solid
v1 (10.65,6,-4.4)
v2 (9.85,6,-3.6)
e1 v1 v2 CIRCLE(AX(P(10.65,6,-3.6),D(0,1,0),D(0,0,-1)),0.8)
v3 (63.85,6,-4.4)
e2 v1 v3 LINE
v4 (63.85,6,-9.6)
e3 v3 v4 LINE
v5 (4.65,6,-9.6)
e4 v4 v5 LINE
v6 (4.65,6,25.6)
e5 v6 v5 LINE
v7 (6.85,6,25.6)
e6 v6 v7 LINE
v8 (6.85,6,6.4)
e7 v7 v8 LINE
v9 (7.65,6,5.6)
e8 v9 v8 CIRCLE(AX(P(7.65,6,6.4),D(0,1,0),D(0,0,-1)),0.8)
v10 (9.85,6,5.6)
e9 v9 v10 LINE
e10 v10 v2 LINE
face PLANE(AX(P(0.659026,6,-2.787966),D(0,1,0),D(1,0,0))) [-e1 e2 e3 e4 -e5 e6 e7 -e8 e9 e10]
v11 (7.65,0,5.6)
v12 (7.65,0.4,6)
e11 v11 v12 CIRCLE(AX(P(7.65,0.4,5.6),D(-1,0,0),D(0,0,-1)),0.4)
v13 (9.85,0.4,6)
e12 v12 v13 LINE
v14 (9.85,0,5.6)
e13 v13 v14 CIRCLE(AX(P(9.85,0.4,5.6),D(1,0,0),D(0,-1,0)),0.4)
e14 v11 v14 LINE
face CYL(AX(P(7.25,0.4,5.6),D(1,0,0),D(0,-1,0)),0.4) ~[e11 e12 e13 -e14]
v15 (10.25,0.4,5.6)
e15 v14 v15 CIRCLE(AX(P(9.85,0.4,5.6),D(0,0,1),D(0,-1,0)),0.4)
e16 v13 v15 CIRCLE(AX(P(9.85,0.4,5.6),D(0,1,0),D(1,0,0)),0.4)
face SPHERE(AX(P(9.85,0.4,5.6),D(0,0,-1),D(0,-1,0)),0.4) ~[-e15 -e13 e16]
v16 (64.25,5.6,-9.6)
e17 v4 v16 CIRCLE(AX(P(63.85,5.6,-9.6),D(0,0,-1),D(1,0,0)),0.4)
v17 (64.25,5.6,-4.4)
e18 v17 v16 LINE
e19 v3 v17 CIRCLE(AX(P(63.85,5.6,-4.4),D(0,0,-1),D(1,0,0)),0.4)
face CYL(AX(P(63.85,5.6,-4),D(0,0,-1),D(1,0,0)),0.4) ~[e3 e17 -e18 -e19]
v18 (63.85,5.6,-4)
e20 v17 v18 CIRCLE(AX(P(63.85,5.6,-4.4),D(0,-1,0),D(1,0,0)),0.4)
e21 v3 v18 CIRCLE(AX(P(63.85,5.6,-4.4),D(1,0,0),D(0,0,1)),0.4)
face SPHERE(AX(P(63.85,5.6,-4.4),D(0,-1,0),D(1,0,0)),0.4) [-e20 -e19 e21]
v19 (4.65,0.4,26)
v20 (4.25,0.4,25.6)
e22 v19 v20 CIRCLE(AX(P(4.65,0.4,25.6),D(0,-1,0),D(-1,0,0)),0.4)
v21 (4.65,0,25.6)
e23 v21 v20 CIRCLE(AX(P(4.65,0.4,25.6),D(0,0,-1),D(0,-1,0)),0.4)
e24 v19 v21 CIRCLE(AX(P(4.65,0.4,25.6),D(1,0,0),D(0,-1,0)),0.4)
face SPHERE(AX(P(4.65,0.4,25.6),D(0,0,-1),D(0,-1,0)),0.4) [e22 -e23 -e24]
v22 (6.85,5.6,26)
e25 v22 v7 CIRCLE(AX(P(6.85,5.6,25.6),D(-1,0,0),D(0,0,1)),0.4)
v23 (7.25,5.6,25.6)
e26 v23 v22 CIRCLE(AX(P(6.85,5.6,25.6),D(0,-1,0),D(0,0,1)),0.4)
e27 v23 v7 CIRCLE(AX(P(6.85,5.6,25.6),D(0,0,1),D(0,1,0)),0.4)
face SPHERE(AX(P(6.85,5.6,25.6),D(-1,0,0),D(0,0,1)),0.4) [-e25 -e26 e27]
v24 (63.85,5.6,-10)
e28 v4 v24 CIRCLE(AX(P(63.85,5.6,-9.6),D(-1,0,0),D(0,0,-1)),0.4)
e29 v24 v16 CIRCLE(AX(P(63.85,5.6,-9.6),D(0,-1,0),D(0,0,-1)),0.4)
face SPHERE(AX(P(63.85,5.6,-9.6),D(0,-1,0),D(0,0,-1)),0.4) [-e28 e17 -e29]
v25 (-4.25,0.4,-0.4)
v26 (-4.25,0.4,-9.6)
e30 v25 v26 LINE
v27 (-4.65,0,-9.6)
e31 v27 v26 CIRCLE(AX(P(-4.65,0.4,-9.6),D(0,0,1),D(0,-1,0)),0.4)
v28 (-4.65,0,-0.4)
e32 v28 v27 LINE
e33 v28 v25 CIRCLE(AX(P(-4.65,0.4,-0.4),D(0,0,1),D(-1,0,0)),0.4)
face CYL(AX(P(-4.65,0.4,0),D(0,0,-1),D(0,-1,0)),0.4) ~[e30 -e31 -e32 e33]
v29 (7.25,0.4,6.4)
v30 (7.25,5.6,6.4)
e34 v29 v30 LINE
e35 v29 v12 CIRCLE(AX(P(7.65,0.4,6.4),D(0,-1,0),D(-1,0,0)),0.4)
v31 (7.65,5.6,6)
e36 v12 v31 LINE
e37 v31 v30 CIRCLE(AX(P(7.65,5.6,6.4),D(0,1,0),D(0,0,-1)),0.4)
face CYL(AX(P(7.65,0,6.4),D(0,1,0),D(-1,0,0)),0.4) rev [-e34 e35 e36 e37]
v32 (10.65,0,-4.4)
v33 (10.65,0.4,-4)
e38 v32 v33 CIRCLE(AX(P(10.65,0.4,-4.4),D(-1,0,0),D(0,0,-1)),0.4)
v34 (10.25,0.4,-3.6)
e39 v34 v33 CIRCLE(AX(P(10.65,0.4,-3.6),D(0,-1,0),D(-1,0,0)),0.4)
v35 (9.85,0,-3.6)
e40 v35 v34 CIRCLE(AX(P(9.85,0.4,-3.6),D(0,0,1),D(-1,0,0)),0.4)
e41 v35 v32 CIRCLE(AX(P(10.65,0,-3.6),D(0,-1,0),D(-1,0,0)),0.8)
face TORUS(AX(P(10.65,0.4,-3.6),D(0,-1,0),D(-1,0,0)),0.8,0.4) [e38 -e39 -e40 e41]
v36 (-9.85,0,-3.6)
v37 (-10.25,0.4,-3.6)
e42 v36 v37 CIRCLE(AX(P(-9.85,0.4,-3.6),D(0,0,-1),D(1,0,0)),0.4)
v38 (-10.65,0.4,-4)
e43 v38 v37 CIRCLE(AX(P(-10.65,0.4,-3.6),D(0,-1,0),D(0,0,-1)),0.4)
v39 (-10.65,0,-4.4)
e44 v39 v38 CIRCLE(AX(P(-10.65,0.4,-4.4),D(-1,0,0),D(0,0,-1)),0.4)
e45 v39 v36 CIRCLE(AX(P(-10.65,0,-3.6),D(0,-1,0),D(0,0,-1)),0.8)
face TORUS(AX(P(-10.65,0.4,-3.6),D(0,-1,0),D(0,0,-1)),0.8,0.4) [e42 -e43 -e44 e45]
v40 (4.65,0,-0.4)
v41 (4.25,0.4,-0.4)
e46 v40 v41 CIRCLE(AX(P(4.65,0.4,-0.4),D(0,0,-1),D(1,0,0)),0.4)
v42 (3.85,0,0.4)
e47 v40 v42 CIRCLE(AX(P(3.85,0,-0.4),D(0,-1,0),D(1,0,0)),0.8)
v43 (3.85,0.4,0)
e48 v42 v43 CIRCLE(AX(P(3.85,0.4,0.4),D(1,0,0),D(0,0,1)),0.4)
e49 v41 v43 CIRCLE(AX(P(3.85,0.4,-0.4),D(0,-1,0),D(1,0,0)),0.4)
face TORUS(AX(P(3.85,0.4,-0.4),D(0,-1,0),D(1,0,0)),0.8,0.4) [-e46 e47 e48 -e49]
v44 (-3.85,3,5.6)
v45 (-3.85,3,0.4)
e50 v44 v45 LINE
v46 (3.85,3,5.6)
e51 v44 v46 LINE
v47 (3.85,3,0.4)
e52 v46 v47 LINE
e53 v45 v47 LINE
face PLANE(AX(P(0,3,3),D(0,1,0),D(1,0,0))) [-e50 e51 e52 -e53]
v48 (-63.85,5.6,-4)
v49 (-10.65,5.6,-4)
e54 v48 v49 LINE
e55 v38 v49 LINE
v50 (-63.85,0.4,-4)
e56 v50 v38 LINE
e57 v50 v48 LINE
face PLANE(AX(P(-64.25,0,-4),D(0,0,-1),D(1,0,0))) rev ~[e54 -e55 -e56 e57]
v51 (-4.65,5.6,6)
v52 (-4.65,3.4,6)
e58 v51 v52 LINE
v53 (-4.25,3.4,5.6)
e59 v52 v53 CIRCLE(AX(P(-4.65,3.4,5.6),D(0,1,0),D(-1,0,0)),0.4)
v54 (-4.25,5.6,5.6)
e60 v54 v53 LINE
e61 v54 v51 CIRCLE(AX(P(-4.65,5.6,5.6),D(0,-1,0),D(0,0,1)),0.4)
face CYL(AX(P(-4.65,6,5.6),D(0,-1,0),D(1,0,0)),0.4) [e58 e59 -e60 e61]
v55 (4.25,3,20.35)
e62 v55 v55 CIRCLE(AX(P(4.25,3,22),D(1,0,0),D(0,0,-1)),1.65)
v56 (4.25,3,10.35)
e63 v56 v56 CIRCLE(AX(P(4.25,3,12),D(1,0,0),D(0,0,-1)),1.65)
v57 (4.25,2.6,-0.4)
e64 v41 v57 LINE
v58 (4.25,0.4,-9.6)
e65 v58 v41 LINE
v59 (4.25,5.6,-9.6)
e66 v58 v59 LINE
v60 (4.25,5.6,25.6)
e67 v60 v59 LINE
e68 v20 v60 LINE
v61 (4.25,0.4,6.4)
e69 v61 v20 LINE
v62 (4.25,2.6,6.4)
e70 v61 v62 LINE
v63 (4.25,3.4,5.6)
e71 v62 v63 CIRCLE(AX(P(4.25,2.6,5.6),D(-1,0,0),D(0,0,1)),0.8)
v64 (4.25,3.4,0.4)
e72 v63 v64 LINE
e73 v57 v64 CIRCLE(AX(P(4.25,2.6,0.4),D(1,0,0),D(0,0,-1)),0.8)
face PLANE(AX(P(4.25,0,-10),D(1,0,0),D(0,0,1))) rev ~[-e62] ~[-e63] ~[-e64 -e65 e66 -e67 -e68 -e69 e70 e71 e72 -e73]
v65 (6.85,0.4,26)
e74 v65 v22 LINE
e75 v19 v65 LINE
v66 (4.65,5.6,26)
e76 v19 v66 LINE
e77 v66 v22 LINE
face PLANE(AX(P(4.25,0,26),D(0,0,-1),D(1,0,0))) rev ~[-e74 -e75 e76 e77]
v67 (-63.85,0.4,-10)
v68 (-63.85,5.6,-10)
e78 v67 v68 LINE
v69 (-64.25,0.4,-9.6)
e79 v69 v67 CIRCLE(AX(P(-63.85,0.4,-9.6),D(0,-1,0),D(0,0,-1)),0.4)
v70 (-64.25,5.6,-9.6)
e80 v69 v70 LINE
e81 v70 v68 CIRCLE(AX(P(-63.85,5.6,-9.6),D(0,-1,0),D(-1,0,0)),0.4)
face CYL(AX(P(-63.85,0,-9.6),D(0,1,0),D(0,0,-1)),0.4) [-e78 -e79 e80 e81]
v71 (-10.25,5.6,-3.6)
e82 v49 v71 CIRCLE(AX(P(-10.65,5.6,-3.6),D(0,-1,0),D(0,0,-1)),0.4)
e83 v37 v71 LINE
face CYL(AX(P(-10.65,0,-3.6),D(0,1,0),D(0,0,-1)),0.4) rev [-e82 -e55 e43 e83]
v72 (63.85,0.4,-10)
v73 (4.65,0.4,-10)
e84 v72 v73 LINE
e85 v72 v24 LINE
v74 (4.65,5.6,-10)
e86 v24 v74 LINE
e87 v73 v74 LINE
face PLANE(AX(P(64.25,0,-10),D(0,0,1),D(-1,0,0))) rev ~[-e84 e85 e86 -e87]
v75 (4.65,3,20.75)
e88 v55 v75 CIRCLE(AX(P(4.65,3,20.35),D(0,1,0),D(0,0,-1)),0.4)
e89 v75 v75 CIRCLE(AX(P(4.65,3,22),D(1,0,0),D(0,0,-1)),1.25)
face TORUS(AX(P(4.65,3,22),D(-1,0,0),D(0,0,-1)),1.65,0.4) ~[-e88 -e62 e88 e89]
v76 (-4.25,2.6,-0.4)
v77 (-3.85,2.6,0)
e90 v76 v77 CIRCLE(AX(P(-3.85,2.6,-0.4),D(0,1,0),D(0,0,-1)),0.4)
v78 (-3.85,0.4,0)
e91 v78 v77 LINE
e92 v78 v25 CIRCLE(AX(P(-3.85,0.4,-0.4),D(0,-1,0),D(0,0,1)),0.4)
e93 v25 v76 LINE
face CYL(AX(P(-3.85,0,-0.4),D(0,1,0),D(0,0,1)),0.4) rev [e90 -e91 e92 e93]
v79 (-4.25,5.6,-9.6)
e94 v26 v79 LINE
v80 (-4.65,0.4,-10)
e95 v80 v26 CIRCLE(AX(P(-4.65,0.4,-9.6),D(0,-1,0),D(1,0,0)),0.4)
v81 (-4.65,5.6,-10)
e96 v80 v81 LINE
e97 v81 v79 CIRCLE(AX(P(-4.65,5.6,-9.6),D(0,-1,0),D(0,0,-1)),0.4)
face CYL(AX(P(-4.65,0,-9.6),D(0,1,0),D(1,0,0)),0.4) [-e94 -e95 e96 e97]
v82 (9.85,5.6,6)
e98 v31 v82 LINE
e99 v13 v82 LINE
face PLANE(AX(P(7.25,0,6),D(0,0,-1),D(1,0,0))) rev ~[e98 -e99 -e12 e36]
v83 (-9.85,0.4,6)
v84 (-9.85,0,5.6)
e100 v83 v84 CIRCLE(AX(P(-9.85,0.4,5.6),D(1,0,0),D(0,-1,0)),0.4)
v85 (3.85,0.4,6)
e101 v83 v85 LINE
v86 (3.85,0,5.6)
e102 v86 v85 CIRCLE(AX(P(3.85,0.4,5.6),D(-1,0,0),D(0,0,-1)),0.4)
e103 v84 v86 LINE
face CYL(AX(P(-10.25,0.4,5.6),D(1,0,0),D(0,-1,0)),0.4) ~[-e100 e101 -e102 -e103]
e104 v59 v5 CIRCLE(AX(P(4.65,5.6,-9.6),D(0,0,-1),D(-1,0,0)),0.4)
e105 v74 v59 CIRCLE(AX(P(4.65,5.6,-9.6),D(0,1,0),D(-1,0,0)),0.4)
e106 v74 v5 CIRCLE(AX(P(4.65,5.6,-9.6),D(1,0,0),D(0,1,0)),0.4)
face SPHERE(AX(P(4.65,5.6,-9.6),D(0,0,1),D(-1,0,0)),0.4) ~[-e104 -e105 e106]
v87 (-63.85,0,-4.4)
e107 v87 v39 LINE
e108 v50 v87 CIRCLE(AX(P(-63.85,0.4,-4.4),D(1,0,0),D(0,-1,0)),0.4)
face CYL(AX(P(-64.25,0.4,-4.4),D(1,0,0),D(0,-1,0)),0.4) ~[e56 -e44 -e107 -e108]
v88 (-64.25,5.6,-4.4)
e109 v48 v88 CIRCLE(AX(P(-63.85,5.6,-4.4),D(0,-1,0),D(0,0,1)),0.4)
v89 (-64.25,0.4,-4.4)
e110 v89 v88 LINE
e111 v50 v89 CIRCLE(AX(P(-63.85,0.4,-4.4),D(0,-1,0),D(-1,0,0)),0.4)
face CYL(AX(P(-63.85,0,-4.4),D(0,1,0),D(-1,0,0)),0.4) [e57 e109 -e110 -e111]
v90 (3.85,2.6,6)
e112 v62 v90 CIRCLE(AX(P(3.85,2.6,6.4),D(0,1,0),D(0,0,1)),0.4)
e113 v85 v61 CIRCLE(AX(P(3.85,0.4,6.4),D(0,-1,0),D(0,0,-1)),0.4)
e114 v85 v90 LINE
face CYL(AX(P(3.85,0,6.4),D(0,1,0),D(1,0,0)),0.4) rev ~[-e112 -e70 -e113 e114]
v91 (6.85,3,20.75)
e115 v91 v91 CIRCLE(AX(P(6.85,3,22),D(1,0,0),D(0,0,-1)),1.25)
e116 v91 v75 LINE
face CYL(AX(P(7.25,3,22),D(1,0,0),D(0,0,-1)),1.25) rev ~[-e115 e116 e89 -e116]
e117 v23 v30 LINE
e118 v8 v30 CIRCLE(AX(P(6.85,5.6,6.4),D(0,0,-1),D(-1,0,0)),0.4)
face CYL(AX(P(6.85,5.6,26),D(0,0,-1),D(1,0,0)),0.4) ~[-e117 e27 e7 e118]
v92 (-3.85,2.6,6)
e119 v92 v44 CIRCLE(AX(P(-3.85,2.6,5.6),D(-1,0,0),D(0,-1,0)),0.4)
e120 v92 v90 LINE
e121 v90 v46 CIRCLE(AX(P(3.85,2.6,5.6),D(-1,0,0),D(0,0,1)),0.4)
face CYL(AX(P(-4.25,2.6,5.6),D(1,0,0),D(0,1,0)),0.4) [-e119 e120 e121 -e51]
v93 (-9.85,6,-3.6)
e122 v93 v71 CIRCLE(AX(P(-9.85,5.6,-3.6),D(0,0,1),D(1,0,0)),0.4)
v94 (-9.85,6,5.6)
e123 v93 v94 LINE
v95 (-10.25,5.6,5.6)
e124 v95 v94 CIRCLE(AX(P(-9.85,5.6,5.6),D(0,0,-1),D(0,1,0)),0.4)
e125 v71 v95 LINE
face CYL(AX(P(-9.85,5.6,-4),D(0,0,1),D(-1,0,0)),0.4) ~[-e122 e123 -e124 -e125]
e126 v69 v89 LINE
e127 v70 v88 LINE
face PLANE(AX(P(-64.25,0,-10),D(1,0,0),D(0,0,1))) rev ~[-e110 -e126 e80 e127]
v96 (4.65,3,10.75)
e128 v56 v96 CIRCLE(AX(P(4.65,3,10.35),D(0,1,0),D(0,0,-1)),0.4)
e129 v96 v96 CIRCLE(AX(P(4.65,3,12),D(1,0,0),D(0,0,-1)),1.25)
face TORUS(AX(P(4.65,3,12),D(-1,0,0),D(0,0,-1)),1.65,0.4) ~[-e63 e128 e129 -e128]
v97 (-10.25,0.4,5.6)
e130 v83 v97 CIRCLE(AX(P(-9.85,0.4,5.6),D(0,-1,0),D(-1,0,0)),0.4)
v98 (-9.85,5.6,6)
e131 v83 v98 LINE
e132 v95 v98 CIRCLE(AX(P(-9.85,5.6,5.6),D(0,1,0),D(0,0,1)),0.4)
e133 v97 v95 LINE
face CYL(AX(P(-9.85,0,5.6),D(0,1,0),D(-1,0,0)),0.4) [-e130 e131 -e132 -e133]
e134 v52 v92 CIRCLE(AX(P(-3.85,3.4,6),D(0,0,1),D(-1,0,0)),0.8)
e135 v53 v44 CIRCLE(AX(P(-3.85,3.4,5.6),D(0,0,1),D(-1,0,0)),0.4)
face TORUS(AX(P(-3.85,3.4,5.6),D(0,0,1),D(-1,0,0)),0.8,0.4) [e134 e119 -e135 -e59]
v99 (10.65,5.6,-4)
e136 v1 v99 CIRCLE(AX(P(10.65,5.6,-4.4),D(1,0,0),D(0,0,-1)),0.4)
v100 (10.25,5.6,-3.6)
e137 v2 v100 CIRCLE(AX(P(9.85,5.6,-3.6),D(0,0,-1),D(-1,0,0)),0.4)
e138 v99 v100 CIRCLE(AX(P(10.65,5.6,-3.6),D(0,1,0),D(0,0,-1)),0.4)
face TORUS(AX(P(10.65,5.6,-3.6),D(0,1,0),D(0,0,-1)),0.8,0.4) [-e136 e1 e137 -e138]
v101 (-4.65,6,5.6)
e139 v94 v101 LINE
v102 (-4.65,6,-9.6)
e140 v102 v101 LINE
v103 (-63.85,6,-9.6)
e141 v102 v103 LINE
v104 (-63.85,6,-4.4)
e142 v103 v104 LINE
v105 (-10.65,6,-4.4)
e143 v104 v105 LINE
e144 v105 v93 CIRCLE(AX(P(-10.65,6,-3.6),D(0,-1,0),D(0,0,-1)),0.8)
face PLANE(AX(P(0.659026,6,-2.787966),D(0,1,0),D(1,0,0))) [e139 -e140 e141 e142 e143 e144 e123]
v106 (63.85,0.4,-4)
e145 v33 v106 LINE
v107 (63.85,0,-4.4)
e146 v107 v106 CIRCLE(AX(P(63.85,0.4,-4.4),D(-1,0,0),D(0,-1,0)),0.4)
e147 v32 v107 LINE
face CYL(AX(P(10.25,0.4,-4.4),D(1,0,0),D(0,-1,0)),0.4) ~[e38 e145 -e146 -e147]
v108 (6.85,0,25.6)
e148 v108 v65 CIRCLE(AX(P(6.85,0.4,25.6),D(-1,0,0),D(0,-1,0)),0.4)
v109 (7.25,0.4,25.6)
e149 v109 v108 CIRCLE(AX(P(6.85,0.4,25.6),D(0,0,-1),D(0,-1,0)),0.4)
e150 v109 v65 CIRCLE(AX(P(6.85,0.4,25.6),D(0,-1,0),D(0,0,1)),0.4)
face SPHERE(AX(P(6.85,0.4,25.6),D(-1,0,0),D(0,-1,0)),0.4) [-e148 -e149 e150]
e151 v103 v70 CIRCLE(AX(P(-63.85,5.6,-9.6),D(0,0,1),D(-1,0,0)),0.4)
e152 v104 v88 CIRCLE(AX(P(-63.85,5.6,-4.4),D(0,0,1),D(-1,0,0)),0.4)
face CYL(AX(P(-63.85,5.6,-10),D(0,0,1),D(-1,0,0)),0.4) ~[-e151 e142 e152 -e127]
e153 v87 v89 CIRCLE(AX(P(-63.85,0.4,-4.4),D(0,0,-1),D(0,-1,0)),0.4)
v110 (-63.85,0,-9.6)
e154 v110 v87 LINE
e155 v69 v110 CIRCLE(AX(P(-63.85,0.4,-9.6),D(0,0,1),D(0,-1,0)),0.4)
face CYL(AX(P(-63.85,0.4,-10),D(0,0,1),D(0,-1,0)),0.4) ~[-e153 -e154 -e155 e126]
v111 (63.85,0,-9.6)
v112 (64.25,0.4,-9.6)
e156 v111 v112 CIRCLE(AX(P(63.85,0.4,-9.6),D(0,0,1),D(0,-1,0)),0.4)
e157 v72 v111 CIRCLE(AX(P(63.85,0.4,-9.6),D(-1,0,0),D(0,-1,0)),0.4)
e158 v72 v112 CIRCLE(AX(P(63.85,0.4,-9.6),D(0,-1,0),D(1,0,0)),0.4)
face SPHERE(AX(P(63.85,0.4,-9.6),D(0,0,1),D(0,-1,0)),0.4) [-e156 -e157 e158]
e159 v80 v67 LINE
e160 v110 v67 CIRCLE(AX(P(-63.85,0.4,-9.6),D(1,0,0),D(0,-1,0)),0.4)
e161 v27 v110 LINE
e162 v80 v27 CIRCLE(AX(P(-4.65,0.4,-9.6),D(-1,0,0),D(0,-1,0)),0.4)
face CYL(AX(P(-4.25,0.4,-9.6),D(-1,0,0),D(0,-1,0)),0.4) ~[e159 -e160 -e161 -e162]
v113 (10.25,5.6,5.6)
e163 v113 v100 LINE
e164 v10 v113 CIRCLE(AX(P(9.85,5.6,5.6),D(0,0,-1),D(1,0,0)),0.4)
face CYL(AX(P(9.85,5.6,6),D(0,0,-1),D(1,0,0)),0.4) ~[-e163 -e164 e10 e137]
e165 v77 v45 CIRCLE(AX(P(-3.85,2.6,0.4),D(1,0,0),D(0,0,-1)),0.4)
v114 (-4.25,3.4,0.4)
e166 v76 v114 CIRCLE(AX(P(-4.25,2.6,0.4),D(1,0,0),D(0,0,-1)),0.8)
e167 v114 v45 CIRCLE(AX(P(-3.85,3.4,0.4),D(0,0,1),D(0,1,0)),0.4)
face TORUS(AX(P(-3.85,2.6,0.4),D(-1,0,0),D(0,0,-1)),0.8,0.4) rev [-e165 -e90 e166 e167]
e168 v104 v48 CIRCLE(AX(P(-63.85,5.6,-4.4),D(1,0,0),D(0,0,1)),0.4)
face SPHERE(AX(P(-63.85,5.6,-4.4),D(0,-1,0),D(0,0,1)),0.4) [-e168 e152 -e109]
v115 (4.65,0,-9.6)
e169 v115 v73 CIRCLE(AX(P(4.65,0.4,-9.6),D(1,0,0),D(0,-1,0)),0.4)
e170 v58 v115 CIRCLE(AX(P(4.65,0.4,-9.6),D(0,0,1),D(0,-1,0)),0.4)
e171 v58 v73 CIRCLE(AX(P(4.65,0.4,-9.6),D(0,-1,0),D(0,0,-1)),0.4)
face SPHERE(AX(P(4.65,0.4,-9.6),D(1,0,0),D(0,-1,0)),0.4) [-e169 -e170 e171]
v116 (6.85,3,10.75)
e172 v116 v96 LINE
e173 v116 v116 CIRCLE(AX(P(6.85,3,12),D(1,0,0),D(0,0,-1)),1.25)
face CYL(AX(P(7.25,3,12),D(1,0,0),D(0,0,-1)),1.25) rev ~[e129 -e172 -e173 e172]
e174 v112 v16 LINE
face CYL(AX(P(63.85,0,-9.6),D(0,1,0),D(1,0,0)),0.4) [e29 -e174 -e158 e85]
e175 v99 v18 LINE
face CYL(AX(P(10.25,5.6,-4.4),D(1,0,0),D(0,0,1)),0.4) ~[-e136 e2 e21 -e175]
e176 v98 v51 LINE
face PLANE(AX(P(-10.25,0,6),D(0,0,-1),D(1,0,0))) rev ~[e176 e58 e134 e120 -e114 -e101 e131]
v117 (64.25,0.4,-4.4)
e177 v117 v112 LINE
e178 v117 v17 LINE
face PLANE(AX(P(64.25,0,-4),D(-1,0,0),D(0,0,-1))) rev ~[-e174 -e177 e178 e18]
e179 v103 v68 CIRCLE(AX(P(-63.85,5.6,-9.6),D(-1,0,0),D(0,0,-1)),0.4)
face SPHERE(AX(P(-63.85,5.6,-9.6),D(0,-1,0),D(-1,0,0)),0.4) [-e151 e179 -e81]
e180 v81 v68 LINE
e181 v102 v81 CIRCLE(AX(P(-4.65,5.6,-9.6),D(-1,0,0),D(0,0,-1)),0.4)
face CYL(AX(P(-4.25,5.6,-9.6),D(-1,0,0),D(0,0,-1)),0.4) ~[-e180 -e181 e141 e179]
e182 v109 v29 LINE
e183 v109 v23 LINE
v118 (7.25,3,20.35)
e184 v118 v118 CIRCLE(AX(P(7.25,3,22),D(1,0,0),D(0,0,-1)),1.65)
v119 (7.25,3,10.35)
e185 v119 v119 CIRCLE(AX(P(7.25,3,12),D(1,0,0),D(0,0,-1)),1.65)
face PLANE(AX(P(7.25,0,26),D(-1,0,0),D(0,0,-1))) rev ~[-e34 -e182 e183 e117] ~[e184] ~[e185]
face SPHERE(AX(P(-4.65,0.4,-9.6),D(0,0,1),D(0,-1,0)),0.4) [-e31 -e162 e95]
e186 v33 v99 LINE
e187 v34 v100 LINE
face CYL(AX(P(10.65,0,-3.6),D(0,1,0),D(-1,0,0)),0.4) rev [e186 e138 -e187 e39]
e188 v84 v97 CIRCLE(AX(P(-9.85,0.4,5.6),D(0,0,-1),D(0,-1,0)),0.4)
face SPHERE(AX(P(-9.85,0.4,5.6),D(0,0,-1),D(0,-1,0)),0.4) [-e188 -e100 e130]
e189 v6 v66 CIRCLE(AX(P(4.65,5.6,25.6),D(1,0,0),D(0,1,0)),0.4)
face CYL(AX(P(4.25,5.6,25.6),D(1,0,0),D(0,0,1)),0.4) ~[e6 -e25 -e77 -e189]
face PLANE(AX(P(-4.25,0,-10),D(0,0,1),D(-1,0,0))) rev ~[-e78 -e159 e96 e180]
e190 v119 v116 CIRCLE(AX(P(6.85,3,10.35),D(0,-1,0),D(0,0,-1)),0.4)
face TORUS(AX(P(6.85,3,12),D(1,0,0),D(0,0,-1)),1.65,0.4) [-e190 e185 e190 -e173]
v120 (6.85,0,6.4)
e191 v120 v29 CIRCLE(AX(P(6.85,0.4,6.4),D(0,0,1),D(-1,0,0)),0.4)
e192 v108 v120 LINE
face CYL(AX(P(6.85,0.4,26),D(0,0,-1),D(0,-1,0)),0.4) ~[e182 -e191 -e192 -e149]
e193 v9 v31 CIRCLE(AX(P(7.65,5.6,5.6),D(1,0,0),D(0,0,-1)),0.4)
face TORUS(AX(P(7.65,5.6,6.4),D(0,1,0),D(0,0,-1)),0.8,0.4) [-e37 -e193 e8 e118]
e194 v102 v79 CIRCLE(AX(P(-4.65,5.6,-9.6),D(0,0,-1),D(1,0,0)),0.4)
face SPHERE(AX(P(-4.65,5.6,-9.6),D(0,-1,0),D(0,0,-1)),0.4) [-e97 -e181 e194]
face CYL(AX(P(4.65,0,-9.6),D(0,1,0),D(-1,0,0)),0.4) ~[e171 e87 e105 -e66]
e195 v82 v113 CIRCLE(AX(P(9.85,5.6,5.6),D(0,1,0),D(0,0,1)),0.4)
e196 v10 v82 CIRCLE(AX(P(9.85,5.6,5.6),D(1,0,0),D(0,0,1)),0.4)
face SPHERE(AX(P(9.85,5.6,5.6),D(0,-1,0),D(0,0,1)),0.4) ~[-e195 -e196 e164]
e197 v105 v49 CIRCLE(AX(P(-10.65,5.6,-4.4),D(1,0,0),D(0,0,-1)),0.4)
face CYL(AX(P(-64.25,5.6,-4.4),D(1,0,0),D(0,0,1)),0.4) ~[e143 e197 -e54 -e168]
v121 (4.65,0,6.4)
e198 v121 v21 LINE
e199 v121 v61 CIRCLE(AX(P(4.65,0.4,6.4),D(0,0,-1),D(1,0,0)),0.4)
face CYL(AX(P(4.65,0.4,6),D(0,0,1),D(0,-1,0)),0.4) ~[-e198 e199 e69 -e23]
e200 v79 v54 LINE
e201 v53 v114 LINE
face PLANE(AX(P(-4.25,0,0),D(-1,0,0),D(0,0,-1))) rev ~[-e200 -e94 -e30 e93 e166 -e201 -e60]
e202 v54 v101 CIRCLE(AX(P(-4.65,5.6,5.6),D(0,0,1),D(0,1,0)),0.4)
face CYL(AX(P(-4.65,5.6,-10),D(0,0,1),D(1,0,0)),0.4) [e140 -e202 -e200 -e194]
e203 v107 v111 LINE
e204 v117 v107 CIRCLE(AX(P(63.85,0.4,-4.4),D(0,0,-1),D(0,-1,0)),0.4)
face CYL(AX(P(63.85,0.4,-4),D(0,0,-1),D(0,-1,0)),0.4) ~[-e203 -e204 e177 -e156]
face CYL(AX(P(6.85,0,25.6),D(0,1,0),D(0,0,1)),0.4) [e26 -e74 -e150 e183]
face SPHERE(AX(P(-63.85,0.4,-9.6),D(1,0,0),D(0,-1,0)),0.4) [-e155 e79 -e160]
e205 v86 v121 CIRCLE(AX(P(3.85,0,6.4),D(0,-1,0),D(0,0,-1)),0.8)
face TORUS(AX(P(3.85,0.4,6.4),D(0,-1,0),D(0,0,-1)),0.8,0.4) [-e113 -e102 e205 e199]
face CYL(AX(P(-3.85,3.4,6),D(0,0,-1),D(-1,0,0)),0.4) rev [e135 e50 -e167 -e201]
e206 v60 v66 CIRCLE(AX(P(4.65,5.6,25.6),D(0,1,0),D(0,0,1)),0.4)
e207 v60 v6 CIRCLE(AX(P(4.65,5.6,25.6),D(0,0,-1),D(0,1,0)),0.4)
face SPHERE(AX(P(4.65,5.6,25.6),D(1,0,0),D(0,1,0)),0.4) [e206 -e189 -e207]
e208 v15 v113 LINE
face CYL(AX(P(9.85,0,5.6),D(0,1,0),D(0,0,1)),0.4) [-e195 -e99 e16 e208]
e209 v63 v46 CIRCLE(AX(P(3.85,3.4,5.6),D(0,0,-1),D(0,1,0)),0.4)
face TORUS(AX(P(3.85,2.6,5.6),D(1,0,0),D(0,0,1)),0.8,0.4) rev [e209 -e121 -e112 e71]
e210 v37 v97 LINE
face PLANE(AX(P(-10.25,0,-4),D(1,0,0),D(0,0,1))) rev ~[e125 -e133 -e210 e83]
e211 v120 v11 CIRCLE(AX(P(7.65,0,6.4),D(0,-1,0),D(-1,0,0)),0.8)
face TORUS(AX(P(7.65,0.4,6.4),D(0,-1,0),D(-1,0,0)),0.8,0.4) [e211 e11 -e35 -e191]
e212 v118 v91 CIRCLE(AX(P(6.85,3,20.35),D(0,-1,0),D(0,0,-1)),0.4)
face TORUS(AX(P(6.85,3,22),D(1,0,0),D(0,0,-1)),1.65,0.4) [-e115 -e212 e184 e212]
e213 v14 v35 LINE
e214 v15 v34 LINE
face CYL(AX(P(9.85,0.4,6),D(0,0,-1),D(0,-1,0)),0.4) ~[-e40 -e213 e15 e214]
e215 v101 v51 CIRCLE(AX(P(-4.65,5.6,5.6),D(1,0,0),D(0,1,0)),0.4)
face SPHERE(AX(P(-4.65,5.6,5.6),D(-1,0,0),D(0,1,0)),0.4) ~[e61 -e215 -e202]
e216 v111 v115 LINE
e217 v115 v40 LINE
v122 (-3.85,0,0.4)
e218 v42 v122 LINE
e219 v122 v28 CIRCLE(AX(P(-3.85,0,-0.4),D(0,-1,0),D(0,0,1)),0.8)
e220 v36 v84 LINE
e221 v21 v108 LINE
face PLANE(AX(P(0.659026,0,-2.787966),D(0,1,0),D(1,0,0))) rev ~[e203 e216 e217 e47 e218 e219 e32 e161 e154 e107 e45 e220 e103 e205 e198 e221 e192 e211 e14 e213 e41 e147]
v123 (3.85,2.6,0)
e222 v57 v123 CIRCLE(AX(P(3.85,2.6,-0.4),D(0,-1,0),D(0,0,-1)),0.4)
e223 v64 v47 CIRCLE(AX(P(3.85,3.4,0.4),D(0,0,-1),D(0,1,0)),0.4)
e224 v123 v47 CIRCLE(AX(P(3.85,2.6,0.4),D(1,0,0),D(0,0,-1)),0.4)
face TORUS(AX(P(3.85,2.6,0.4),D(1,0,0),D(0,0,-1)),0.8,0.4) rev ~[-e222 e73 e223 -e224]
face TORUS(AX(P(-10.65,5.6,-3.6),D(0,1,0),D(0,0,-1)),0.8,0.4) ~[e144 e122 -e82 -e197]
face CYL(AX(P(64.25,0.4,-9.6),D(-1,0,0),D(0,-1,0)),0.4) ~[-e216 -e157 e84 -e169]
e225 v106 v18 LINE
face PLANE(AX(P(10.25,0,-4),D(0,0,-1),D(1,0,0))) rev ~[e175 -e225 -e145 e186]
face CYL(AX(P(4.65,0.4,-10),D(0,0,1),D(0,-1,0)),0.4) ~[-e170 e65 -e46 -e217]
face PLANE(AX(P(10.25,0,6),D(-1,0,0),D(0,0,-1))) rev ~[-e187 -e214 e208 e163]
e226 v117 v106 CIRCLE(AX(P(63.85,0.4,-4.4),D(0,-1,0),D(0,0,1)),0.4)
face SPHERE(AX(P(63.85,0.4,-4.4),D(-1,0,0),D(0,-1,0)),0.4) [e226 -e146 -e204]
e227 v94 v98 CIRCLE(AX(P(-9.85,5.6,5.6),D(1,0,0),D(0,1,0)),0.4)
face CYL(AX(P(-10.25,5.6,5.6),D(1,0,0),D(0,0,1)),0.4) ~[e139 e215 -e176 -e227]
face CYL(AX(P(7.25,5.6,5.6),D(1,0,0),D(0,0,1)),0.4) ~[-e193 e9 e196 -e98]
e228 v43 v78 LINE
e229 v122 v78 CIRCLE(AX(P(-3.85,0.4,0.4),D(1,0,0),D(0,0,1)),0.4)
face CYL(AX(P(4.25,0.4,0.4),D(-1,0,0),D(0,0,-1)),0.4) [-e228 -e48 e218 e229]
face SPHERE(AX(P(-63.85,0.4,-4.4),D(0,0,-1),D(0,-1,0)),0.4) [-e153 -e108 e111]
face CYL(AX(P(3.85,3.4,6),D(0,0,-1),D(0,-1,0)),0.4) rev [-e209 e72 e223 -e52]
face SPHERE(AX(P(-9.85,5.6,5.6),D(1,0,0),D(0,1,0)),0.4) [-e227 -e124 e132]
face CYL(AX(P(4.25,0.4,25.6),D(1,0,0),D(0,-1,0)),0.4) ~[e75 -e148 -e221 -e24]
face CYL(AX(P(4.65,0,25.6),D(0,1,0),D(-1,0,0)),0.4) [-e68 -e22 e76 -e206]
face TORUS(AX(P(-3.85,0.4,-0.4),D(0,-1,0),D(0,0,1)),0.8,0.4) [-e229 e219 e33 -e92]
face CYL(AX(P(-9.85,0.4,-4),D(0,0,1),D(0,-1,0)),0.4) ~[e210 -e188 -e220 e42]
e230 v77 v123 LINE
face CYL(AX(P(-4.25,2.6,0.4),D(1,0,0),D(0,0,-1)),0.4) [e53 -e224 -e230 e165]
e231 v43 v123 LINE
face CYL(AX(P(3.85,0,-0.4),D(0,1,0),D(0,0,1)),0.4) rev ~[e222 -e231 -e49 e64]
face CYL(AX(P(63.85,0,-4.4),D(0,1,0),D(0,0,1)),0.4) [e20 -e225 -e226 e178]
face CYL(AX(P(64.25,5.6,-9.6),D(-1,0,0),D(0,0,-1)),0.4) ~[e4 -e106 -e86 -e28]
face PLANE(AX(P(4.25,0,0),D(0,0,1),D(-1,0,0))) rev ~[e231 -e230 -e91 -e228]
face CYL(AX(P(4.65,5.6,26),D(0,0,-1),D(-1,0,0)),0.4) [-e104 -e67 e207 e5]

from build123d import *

# Parameters (mm, degrees)
EXTRUDE_1_DEPTH     = 6
SKETCH_2_W          = 8.5
SKETCH_2_H          = 6
CUT_EXTRUDE_1_DEPTH = 3
SKETCH_3_R          = 1.25
CUT_EXTRUDE_2_DEPTH = 72.5
FILLET_1_R          = 0.4


with BuildPart() as part:
    # 草图1 → 凸台-拉伸1 (new body)
    with BuildSketch(Plane(origin=(0, 0, 0), x_dir=(1, 0, 0), z_dir=(0, 1, 0))):
        Polygon((4.25, 0), (-4.25, 0), (-4.25, 10), (-64.25, 10), (-64.25, 4), (-10.25, 4), (-10.25, -6), (4.25, -6), (4.25, -26), (7.25, -26), (7.25, -6), (10.25, -6), (10.25, 4), (64.25, 4), (64.25, 10), (4.25, 10), align=None)
    extrude(amount=EXTRUDE_1_DEPTH)

    # 草图2 → 切除-拉伸1 (cut)
    with BuildSketch(Plane(origin=(0, 6, 0), x_dir=(1, 0, 0), z_dir=(0, 1, 0))):
        with Locations((0, -3)):
            Rectangle(SKETCH_2_W, SKETCH_2_H)
    extrude(amount=-CUT_EXTRUDE_1_DEPTH, mode=Mode.SUBTRACT)

    # 草图3 → 切除-拉伸2 (cut, through all)
    with BuildSketch(Plane(origin=(7.25, 0, 0), x_dir=(0, 0, -1), z_dir=(1, 0, 0))):
        with Locations((-12, 3)):
            Circle(SKETCH_3_R)
        with Locations((-22, 3)):
            Circle(SKETCH_3_R)
    extrude(amount=-CUT_EXTRUDE_2_DEPTH, mode=Mode.SUBTRACT)

    # 圆角1
    fillet_1_edges = [part.edges().sort_by_distance(p)[0] for p in [
        (5.75, 6, 26),
        (10.25, 0, 1),
        (37.25, 0, -4),
        (64.25, 0, -7),
        (4.25, 6, 8),
        (34.25, 0, -10),
        (4.25, 0, -5),
        (0, 0, 0),
        (-4.25, 0, -5),
        (-34.25, 0, -10),
        (-64.25, 0, -7),
        (-37.25, 0, -4),
        (-10.25, 0, 1),
        (-3, 0, 6),
        (4.25, 0, 16),
        (-7.25, 6, 6),
        (5.75, 0, 26),
        (7.25, 0, 16),
        (8.75, 0, 6),
        (-10.25, 6, 1),
        (10.25, 3, 6),
        (10.25, 3, -4),
        (64.25, 3, -4),
        (64.25, 3, -10),
        (4.25, 3, -10),
        (-4.25, 3, -10),
        (-64.25, 3, -10),
        (-64.25, 3, -4),
        (-10.25, 3, -4),
        (-10.25, 3, 6),
        (4.25, 3, 26),
        (7.25, 3, 26),
        (7.25, 3, 6),
        (-37.25, 6, -4),
        (-64.25, 6, -7),
        (-34.25, 6, -10),
        (-4.25, 6, -2),
        (4.25, 1.5, 6),
        (8.75, 6, 6),
        (-4.25, 1.5, 0),
        (4.25, 1.5, 0),
        (4.25, 3, 3),
        (0, 3, 6),
        (34.25, 6, -10),
        (-4.25, 3, 3),
        (-4.25, 4.5, 6),
        (0, 3, 0),
        (64.25, 6, -7),
        (37.25, 6, -4),
        (10.25, 6, 1),
        (4.25, 3, 13.25),
        (7.25, 3, 13.25),
        (4.25, 3, 23.25),
        (7.25, 3, 23.25),
        (7.25, 6, 16),
    ]]
    fillet(fillet_1_edges, radius=FILLET_1_R)


solid = part.part
